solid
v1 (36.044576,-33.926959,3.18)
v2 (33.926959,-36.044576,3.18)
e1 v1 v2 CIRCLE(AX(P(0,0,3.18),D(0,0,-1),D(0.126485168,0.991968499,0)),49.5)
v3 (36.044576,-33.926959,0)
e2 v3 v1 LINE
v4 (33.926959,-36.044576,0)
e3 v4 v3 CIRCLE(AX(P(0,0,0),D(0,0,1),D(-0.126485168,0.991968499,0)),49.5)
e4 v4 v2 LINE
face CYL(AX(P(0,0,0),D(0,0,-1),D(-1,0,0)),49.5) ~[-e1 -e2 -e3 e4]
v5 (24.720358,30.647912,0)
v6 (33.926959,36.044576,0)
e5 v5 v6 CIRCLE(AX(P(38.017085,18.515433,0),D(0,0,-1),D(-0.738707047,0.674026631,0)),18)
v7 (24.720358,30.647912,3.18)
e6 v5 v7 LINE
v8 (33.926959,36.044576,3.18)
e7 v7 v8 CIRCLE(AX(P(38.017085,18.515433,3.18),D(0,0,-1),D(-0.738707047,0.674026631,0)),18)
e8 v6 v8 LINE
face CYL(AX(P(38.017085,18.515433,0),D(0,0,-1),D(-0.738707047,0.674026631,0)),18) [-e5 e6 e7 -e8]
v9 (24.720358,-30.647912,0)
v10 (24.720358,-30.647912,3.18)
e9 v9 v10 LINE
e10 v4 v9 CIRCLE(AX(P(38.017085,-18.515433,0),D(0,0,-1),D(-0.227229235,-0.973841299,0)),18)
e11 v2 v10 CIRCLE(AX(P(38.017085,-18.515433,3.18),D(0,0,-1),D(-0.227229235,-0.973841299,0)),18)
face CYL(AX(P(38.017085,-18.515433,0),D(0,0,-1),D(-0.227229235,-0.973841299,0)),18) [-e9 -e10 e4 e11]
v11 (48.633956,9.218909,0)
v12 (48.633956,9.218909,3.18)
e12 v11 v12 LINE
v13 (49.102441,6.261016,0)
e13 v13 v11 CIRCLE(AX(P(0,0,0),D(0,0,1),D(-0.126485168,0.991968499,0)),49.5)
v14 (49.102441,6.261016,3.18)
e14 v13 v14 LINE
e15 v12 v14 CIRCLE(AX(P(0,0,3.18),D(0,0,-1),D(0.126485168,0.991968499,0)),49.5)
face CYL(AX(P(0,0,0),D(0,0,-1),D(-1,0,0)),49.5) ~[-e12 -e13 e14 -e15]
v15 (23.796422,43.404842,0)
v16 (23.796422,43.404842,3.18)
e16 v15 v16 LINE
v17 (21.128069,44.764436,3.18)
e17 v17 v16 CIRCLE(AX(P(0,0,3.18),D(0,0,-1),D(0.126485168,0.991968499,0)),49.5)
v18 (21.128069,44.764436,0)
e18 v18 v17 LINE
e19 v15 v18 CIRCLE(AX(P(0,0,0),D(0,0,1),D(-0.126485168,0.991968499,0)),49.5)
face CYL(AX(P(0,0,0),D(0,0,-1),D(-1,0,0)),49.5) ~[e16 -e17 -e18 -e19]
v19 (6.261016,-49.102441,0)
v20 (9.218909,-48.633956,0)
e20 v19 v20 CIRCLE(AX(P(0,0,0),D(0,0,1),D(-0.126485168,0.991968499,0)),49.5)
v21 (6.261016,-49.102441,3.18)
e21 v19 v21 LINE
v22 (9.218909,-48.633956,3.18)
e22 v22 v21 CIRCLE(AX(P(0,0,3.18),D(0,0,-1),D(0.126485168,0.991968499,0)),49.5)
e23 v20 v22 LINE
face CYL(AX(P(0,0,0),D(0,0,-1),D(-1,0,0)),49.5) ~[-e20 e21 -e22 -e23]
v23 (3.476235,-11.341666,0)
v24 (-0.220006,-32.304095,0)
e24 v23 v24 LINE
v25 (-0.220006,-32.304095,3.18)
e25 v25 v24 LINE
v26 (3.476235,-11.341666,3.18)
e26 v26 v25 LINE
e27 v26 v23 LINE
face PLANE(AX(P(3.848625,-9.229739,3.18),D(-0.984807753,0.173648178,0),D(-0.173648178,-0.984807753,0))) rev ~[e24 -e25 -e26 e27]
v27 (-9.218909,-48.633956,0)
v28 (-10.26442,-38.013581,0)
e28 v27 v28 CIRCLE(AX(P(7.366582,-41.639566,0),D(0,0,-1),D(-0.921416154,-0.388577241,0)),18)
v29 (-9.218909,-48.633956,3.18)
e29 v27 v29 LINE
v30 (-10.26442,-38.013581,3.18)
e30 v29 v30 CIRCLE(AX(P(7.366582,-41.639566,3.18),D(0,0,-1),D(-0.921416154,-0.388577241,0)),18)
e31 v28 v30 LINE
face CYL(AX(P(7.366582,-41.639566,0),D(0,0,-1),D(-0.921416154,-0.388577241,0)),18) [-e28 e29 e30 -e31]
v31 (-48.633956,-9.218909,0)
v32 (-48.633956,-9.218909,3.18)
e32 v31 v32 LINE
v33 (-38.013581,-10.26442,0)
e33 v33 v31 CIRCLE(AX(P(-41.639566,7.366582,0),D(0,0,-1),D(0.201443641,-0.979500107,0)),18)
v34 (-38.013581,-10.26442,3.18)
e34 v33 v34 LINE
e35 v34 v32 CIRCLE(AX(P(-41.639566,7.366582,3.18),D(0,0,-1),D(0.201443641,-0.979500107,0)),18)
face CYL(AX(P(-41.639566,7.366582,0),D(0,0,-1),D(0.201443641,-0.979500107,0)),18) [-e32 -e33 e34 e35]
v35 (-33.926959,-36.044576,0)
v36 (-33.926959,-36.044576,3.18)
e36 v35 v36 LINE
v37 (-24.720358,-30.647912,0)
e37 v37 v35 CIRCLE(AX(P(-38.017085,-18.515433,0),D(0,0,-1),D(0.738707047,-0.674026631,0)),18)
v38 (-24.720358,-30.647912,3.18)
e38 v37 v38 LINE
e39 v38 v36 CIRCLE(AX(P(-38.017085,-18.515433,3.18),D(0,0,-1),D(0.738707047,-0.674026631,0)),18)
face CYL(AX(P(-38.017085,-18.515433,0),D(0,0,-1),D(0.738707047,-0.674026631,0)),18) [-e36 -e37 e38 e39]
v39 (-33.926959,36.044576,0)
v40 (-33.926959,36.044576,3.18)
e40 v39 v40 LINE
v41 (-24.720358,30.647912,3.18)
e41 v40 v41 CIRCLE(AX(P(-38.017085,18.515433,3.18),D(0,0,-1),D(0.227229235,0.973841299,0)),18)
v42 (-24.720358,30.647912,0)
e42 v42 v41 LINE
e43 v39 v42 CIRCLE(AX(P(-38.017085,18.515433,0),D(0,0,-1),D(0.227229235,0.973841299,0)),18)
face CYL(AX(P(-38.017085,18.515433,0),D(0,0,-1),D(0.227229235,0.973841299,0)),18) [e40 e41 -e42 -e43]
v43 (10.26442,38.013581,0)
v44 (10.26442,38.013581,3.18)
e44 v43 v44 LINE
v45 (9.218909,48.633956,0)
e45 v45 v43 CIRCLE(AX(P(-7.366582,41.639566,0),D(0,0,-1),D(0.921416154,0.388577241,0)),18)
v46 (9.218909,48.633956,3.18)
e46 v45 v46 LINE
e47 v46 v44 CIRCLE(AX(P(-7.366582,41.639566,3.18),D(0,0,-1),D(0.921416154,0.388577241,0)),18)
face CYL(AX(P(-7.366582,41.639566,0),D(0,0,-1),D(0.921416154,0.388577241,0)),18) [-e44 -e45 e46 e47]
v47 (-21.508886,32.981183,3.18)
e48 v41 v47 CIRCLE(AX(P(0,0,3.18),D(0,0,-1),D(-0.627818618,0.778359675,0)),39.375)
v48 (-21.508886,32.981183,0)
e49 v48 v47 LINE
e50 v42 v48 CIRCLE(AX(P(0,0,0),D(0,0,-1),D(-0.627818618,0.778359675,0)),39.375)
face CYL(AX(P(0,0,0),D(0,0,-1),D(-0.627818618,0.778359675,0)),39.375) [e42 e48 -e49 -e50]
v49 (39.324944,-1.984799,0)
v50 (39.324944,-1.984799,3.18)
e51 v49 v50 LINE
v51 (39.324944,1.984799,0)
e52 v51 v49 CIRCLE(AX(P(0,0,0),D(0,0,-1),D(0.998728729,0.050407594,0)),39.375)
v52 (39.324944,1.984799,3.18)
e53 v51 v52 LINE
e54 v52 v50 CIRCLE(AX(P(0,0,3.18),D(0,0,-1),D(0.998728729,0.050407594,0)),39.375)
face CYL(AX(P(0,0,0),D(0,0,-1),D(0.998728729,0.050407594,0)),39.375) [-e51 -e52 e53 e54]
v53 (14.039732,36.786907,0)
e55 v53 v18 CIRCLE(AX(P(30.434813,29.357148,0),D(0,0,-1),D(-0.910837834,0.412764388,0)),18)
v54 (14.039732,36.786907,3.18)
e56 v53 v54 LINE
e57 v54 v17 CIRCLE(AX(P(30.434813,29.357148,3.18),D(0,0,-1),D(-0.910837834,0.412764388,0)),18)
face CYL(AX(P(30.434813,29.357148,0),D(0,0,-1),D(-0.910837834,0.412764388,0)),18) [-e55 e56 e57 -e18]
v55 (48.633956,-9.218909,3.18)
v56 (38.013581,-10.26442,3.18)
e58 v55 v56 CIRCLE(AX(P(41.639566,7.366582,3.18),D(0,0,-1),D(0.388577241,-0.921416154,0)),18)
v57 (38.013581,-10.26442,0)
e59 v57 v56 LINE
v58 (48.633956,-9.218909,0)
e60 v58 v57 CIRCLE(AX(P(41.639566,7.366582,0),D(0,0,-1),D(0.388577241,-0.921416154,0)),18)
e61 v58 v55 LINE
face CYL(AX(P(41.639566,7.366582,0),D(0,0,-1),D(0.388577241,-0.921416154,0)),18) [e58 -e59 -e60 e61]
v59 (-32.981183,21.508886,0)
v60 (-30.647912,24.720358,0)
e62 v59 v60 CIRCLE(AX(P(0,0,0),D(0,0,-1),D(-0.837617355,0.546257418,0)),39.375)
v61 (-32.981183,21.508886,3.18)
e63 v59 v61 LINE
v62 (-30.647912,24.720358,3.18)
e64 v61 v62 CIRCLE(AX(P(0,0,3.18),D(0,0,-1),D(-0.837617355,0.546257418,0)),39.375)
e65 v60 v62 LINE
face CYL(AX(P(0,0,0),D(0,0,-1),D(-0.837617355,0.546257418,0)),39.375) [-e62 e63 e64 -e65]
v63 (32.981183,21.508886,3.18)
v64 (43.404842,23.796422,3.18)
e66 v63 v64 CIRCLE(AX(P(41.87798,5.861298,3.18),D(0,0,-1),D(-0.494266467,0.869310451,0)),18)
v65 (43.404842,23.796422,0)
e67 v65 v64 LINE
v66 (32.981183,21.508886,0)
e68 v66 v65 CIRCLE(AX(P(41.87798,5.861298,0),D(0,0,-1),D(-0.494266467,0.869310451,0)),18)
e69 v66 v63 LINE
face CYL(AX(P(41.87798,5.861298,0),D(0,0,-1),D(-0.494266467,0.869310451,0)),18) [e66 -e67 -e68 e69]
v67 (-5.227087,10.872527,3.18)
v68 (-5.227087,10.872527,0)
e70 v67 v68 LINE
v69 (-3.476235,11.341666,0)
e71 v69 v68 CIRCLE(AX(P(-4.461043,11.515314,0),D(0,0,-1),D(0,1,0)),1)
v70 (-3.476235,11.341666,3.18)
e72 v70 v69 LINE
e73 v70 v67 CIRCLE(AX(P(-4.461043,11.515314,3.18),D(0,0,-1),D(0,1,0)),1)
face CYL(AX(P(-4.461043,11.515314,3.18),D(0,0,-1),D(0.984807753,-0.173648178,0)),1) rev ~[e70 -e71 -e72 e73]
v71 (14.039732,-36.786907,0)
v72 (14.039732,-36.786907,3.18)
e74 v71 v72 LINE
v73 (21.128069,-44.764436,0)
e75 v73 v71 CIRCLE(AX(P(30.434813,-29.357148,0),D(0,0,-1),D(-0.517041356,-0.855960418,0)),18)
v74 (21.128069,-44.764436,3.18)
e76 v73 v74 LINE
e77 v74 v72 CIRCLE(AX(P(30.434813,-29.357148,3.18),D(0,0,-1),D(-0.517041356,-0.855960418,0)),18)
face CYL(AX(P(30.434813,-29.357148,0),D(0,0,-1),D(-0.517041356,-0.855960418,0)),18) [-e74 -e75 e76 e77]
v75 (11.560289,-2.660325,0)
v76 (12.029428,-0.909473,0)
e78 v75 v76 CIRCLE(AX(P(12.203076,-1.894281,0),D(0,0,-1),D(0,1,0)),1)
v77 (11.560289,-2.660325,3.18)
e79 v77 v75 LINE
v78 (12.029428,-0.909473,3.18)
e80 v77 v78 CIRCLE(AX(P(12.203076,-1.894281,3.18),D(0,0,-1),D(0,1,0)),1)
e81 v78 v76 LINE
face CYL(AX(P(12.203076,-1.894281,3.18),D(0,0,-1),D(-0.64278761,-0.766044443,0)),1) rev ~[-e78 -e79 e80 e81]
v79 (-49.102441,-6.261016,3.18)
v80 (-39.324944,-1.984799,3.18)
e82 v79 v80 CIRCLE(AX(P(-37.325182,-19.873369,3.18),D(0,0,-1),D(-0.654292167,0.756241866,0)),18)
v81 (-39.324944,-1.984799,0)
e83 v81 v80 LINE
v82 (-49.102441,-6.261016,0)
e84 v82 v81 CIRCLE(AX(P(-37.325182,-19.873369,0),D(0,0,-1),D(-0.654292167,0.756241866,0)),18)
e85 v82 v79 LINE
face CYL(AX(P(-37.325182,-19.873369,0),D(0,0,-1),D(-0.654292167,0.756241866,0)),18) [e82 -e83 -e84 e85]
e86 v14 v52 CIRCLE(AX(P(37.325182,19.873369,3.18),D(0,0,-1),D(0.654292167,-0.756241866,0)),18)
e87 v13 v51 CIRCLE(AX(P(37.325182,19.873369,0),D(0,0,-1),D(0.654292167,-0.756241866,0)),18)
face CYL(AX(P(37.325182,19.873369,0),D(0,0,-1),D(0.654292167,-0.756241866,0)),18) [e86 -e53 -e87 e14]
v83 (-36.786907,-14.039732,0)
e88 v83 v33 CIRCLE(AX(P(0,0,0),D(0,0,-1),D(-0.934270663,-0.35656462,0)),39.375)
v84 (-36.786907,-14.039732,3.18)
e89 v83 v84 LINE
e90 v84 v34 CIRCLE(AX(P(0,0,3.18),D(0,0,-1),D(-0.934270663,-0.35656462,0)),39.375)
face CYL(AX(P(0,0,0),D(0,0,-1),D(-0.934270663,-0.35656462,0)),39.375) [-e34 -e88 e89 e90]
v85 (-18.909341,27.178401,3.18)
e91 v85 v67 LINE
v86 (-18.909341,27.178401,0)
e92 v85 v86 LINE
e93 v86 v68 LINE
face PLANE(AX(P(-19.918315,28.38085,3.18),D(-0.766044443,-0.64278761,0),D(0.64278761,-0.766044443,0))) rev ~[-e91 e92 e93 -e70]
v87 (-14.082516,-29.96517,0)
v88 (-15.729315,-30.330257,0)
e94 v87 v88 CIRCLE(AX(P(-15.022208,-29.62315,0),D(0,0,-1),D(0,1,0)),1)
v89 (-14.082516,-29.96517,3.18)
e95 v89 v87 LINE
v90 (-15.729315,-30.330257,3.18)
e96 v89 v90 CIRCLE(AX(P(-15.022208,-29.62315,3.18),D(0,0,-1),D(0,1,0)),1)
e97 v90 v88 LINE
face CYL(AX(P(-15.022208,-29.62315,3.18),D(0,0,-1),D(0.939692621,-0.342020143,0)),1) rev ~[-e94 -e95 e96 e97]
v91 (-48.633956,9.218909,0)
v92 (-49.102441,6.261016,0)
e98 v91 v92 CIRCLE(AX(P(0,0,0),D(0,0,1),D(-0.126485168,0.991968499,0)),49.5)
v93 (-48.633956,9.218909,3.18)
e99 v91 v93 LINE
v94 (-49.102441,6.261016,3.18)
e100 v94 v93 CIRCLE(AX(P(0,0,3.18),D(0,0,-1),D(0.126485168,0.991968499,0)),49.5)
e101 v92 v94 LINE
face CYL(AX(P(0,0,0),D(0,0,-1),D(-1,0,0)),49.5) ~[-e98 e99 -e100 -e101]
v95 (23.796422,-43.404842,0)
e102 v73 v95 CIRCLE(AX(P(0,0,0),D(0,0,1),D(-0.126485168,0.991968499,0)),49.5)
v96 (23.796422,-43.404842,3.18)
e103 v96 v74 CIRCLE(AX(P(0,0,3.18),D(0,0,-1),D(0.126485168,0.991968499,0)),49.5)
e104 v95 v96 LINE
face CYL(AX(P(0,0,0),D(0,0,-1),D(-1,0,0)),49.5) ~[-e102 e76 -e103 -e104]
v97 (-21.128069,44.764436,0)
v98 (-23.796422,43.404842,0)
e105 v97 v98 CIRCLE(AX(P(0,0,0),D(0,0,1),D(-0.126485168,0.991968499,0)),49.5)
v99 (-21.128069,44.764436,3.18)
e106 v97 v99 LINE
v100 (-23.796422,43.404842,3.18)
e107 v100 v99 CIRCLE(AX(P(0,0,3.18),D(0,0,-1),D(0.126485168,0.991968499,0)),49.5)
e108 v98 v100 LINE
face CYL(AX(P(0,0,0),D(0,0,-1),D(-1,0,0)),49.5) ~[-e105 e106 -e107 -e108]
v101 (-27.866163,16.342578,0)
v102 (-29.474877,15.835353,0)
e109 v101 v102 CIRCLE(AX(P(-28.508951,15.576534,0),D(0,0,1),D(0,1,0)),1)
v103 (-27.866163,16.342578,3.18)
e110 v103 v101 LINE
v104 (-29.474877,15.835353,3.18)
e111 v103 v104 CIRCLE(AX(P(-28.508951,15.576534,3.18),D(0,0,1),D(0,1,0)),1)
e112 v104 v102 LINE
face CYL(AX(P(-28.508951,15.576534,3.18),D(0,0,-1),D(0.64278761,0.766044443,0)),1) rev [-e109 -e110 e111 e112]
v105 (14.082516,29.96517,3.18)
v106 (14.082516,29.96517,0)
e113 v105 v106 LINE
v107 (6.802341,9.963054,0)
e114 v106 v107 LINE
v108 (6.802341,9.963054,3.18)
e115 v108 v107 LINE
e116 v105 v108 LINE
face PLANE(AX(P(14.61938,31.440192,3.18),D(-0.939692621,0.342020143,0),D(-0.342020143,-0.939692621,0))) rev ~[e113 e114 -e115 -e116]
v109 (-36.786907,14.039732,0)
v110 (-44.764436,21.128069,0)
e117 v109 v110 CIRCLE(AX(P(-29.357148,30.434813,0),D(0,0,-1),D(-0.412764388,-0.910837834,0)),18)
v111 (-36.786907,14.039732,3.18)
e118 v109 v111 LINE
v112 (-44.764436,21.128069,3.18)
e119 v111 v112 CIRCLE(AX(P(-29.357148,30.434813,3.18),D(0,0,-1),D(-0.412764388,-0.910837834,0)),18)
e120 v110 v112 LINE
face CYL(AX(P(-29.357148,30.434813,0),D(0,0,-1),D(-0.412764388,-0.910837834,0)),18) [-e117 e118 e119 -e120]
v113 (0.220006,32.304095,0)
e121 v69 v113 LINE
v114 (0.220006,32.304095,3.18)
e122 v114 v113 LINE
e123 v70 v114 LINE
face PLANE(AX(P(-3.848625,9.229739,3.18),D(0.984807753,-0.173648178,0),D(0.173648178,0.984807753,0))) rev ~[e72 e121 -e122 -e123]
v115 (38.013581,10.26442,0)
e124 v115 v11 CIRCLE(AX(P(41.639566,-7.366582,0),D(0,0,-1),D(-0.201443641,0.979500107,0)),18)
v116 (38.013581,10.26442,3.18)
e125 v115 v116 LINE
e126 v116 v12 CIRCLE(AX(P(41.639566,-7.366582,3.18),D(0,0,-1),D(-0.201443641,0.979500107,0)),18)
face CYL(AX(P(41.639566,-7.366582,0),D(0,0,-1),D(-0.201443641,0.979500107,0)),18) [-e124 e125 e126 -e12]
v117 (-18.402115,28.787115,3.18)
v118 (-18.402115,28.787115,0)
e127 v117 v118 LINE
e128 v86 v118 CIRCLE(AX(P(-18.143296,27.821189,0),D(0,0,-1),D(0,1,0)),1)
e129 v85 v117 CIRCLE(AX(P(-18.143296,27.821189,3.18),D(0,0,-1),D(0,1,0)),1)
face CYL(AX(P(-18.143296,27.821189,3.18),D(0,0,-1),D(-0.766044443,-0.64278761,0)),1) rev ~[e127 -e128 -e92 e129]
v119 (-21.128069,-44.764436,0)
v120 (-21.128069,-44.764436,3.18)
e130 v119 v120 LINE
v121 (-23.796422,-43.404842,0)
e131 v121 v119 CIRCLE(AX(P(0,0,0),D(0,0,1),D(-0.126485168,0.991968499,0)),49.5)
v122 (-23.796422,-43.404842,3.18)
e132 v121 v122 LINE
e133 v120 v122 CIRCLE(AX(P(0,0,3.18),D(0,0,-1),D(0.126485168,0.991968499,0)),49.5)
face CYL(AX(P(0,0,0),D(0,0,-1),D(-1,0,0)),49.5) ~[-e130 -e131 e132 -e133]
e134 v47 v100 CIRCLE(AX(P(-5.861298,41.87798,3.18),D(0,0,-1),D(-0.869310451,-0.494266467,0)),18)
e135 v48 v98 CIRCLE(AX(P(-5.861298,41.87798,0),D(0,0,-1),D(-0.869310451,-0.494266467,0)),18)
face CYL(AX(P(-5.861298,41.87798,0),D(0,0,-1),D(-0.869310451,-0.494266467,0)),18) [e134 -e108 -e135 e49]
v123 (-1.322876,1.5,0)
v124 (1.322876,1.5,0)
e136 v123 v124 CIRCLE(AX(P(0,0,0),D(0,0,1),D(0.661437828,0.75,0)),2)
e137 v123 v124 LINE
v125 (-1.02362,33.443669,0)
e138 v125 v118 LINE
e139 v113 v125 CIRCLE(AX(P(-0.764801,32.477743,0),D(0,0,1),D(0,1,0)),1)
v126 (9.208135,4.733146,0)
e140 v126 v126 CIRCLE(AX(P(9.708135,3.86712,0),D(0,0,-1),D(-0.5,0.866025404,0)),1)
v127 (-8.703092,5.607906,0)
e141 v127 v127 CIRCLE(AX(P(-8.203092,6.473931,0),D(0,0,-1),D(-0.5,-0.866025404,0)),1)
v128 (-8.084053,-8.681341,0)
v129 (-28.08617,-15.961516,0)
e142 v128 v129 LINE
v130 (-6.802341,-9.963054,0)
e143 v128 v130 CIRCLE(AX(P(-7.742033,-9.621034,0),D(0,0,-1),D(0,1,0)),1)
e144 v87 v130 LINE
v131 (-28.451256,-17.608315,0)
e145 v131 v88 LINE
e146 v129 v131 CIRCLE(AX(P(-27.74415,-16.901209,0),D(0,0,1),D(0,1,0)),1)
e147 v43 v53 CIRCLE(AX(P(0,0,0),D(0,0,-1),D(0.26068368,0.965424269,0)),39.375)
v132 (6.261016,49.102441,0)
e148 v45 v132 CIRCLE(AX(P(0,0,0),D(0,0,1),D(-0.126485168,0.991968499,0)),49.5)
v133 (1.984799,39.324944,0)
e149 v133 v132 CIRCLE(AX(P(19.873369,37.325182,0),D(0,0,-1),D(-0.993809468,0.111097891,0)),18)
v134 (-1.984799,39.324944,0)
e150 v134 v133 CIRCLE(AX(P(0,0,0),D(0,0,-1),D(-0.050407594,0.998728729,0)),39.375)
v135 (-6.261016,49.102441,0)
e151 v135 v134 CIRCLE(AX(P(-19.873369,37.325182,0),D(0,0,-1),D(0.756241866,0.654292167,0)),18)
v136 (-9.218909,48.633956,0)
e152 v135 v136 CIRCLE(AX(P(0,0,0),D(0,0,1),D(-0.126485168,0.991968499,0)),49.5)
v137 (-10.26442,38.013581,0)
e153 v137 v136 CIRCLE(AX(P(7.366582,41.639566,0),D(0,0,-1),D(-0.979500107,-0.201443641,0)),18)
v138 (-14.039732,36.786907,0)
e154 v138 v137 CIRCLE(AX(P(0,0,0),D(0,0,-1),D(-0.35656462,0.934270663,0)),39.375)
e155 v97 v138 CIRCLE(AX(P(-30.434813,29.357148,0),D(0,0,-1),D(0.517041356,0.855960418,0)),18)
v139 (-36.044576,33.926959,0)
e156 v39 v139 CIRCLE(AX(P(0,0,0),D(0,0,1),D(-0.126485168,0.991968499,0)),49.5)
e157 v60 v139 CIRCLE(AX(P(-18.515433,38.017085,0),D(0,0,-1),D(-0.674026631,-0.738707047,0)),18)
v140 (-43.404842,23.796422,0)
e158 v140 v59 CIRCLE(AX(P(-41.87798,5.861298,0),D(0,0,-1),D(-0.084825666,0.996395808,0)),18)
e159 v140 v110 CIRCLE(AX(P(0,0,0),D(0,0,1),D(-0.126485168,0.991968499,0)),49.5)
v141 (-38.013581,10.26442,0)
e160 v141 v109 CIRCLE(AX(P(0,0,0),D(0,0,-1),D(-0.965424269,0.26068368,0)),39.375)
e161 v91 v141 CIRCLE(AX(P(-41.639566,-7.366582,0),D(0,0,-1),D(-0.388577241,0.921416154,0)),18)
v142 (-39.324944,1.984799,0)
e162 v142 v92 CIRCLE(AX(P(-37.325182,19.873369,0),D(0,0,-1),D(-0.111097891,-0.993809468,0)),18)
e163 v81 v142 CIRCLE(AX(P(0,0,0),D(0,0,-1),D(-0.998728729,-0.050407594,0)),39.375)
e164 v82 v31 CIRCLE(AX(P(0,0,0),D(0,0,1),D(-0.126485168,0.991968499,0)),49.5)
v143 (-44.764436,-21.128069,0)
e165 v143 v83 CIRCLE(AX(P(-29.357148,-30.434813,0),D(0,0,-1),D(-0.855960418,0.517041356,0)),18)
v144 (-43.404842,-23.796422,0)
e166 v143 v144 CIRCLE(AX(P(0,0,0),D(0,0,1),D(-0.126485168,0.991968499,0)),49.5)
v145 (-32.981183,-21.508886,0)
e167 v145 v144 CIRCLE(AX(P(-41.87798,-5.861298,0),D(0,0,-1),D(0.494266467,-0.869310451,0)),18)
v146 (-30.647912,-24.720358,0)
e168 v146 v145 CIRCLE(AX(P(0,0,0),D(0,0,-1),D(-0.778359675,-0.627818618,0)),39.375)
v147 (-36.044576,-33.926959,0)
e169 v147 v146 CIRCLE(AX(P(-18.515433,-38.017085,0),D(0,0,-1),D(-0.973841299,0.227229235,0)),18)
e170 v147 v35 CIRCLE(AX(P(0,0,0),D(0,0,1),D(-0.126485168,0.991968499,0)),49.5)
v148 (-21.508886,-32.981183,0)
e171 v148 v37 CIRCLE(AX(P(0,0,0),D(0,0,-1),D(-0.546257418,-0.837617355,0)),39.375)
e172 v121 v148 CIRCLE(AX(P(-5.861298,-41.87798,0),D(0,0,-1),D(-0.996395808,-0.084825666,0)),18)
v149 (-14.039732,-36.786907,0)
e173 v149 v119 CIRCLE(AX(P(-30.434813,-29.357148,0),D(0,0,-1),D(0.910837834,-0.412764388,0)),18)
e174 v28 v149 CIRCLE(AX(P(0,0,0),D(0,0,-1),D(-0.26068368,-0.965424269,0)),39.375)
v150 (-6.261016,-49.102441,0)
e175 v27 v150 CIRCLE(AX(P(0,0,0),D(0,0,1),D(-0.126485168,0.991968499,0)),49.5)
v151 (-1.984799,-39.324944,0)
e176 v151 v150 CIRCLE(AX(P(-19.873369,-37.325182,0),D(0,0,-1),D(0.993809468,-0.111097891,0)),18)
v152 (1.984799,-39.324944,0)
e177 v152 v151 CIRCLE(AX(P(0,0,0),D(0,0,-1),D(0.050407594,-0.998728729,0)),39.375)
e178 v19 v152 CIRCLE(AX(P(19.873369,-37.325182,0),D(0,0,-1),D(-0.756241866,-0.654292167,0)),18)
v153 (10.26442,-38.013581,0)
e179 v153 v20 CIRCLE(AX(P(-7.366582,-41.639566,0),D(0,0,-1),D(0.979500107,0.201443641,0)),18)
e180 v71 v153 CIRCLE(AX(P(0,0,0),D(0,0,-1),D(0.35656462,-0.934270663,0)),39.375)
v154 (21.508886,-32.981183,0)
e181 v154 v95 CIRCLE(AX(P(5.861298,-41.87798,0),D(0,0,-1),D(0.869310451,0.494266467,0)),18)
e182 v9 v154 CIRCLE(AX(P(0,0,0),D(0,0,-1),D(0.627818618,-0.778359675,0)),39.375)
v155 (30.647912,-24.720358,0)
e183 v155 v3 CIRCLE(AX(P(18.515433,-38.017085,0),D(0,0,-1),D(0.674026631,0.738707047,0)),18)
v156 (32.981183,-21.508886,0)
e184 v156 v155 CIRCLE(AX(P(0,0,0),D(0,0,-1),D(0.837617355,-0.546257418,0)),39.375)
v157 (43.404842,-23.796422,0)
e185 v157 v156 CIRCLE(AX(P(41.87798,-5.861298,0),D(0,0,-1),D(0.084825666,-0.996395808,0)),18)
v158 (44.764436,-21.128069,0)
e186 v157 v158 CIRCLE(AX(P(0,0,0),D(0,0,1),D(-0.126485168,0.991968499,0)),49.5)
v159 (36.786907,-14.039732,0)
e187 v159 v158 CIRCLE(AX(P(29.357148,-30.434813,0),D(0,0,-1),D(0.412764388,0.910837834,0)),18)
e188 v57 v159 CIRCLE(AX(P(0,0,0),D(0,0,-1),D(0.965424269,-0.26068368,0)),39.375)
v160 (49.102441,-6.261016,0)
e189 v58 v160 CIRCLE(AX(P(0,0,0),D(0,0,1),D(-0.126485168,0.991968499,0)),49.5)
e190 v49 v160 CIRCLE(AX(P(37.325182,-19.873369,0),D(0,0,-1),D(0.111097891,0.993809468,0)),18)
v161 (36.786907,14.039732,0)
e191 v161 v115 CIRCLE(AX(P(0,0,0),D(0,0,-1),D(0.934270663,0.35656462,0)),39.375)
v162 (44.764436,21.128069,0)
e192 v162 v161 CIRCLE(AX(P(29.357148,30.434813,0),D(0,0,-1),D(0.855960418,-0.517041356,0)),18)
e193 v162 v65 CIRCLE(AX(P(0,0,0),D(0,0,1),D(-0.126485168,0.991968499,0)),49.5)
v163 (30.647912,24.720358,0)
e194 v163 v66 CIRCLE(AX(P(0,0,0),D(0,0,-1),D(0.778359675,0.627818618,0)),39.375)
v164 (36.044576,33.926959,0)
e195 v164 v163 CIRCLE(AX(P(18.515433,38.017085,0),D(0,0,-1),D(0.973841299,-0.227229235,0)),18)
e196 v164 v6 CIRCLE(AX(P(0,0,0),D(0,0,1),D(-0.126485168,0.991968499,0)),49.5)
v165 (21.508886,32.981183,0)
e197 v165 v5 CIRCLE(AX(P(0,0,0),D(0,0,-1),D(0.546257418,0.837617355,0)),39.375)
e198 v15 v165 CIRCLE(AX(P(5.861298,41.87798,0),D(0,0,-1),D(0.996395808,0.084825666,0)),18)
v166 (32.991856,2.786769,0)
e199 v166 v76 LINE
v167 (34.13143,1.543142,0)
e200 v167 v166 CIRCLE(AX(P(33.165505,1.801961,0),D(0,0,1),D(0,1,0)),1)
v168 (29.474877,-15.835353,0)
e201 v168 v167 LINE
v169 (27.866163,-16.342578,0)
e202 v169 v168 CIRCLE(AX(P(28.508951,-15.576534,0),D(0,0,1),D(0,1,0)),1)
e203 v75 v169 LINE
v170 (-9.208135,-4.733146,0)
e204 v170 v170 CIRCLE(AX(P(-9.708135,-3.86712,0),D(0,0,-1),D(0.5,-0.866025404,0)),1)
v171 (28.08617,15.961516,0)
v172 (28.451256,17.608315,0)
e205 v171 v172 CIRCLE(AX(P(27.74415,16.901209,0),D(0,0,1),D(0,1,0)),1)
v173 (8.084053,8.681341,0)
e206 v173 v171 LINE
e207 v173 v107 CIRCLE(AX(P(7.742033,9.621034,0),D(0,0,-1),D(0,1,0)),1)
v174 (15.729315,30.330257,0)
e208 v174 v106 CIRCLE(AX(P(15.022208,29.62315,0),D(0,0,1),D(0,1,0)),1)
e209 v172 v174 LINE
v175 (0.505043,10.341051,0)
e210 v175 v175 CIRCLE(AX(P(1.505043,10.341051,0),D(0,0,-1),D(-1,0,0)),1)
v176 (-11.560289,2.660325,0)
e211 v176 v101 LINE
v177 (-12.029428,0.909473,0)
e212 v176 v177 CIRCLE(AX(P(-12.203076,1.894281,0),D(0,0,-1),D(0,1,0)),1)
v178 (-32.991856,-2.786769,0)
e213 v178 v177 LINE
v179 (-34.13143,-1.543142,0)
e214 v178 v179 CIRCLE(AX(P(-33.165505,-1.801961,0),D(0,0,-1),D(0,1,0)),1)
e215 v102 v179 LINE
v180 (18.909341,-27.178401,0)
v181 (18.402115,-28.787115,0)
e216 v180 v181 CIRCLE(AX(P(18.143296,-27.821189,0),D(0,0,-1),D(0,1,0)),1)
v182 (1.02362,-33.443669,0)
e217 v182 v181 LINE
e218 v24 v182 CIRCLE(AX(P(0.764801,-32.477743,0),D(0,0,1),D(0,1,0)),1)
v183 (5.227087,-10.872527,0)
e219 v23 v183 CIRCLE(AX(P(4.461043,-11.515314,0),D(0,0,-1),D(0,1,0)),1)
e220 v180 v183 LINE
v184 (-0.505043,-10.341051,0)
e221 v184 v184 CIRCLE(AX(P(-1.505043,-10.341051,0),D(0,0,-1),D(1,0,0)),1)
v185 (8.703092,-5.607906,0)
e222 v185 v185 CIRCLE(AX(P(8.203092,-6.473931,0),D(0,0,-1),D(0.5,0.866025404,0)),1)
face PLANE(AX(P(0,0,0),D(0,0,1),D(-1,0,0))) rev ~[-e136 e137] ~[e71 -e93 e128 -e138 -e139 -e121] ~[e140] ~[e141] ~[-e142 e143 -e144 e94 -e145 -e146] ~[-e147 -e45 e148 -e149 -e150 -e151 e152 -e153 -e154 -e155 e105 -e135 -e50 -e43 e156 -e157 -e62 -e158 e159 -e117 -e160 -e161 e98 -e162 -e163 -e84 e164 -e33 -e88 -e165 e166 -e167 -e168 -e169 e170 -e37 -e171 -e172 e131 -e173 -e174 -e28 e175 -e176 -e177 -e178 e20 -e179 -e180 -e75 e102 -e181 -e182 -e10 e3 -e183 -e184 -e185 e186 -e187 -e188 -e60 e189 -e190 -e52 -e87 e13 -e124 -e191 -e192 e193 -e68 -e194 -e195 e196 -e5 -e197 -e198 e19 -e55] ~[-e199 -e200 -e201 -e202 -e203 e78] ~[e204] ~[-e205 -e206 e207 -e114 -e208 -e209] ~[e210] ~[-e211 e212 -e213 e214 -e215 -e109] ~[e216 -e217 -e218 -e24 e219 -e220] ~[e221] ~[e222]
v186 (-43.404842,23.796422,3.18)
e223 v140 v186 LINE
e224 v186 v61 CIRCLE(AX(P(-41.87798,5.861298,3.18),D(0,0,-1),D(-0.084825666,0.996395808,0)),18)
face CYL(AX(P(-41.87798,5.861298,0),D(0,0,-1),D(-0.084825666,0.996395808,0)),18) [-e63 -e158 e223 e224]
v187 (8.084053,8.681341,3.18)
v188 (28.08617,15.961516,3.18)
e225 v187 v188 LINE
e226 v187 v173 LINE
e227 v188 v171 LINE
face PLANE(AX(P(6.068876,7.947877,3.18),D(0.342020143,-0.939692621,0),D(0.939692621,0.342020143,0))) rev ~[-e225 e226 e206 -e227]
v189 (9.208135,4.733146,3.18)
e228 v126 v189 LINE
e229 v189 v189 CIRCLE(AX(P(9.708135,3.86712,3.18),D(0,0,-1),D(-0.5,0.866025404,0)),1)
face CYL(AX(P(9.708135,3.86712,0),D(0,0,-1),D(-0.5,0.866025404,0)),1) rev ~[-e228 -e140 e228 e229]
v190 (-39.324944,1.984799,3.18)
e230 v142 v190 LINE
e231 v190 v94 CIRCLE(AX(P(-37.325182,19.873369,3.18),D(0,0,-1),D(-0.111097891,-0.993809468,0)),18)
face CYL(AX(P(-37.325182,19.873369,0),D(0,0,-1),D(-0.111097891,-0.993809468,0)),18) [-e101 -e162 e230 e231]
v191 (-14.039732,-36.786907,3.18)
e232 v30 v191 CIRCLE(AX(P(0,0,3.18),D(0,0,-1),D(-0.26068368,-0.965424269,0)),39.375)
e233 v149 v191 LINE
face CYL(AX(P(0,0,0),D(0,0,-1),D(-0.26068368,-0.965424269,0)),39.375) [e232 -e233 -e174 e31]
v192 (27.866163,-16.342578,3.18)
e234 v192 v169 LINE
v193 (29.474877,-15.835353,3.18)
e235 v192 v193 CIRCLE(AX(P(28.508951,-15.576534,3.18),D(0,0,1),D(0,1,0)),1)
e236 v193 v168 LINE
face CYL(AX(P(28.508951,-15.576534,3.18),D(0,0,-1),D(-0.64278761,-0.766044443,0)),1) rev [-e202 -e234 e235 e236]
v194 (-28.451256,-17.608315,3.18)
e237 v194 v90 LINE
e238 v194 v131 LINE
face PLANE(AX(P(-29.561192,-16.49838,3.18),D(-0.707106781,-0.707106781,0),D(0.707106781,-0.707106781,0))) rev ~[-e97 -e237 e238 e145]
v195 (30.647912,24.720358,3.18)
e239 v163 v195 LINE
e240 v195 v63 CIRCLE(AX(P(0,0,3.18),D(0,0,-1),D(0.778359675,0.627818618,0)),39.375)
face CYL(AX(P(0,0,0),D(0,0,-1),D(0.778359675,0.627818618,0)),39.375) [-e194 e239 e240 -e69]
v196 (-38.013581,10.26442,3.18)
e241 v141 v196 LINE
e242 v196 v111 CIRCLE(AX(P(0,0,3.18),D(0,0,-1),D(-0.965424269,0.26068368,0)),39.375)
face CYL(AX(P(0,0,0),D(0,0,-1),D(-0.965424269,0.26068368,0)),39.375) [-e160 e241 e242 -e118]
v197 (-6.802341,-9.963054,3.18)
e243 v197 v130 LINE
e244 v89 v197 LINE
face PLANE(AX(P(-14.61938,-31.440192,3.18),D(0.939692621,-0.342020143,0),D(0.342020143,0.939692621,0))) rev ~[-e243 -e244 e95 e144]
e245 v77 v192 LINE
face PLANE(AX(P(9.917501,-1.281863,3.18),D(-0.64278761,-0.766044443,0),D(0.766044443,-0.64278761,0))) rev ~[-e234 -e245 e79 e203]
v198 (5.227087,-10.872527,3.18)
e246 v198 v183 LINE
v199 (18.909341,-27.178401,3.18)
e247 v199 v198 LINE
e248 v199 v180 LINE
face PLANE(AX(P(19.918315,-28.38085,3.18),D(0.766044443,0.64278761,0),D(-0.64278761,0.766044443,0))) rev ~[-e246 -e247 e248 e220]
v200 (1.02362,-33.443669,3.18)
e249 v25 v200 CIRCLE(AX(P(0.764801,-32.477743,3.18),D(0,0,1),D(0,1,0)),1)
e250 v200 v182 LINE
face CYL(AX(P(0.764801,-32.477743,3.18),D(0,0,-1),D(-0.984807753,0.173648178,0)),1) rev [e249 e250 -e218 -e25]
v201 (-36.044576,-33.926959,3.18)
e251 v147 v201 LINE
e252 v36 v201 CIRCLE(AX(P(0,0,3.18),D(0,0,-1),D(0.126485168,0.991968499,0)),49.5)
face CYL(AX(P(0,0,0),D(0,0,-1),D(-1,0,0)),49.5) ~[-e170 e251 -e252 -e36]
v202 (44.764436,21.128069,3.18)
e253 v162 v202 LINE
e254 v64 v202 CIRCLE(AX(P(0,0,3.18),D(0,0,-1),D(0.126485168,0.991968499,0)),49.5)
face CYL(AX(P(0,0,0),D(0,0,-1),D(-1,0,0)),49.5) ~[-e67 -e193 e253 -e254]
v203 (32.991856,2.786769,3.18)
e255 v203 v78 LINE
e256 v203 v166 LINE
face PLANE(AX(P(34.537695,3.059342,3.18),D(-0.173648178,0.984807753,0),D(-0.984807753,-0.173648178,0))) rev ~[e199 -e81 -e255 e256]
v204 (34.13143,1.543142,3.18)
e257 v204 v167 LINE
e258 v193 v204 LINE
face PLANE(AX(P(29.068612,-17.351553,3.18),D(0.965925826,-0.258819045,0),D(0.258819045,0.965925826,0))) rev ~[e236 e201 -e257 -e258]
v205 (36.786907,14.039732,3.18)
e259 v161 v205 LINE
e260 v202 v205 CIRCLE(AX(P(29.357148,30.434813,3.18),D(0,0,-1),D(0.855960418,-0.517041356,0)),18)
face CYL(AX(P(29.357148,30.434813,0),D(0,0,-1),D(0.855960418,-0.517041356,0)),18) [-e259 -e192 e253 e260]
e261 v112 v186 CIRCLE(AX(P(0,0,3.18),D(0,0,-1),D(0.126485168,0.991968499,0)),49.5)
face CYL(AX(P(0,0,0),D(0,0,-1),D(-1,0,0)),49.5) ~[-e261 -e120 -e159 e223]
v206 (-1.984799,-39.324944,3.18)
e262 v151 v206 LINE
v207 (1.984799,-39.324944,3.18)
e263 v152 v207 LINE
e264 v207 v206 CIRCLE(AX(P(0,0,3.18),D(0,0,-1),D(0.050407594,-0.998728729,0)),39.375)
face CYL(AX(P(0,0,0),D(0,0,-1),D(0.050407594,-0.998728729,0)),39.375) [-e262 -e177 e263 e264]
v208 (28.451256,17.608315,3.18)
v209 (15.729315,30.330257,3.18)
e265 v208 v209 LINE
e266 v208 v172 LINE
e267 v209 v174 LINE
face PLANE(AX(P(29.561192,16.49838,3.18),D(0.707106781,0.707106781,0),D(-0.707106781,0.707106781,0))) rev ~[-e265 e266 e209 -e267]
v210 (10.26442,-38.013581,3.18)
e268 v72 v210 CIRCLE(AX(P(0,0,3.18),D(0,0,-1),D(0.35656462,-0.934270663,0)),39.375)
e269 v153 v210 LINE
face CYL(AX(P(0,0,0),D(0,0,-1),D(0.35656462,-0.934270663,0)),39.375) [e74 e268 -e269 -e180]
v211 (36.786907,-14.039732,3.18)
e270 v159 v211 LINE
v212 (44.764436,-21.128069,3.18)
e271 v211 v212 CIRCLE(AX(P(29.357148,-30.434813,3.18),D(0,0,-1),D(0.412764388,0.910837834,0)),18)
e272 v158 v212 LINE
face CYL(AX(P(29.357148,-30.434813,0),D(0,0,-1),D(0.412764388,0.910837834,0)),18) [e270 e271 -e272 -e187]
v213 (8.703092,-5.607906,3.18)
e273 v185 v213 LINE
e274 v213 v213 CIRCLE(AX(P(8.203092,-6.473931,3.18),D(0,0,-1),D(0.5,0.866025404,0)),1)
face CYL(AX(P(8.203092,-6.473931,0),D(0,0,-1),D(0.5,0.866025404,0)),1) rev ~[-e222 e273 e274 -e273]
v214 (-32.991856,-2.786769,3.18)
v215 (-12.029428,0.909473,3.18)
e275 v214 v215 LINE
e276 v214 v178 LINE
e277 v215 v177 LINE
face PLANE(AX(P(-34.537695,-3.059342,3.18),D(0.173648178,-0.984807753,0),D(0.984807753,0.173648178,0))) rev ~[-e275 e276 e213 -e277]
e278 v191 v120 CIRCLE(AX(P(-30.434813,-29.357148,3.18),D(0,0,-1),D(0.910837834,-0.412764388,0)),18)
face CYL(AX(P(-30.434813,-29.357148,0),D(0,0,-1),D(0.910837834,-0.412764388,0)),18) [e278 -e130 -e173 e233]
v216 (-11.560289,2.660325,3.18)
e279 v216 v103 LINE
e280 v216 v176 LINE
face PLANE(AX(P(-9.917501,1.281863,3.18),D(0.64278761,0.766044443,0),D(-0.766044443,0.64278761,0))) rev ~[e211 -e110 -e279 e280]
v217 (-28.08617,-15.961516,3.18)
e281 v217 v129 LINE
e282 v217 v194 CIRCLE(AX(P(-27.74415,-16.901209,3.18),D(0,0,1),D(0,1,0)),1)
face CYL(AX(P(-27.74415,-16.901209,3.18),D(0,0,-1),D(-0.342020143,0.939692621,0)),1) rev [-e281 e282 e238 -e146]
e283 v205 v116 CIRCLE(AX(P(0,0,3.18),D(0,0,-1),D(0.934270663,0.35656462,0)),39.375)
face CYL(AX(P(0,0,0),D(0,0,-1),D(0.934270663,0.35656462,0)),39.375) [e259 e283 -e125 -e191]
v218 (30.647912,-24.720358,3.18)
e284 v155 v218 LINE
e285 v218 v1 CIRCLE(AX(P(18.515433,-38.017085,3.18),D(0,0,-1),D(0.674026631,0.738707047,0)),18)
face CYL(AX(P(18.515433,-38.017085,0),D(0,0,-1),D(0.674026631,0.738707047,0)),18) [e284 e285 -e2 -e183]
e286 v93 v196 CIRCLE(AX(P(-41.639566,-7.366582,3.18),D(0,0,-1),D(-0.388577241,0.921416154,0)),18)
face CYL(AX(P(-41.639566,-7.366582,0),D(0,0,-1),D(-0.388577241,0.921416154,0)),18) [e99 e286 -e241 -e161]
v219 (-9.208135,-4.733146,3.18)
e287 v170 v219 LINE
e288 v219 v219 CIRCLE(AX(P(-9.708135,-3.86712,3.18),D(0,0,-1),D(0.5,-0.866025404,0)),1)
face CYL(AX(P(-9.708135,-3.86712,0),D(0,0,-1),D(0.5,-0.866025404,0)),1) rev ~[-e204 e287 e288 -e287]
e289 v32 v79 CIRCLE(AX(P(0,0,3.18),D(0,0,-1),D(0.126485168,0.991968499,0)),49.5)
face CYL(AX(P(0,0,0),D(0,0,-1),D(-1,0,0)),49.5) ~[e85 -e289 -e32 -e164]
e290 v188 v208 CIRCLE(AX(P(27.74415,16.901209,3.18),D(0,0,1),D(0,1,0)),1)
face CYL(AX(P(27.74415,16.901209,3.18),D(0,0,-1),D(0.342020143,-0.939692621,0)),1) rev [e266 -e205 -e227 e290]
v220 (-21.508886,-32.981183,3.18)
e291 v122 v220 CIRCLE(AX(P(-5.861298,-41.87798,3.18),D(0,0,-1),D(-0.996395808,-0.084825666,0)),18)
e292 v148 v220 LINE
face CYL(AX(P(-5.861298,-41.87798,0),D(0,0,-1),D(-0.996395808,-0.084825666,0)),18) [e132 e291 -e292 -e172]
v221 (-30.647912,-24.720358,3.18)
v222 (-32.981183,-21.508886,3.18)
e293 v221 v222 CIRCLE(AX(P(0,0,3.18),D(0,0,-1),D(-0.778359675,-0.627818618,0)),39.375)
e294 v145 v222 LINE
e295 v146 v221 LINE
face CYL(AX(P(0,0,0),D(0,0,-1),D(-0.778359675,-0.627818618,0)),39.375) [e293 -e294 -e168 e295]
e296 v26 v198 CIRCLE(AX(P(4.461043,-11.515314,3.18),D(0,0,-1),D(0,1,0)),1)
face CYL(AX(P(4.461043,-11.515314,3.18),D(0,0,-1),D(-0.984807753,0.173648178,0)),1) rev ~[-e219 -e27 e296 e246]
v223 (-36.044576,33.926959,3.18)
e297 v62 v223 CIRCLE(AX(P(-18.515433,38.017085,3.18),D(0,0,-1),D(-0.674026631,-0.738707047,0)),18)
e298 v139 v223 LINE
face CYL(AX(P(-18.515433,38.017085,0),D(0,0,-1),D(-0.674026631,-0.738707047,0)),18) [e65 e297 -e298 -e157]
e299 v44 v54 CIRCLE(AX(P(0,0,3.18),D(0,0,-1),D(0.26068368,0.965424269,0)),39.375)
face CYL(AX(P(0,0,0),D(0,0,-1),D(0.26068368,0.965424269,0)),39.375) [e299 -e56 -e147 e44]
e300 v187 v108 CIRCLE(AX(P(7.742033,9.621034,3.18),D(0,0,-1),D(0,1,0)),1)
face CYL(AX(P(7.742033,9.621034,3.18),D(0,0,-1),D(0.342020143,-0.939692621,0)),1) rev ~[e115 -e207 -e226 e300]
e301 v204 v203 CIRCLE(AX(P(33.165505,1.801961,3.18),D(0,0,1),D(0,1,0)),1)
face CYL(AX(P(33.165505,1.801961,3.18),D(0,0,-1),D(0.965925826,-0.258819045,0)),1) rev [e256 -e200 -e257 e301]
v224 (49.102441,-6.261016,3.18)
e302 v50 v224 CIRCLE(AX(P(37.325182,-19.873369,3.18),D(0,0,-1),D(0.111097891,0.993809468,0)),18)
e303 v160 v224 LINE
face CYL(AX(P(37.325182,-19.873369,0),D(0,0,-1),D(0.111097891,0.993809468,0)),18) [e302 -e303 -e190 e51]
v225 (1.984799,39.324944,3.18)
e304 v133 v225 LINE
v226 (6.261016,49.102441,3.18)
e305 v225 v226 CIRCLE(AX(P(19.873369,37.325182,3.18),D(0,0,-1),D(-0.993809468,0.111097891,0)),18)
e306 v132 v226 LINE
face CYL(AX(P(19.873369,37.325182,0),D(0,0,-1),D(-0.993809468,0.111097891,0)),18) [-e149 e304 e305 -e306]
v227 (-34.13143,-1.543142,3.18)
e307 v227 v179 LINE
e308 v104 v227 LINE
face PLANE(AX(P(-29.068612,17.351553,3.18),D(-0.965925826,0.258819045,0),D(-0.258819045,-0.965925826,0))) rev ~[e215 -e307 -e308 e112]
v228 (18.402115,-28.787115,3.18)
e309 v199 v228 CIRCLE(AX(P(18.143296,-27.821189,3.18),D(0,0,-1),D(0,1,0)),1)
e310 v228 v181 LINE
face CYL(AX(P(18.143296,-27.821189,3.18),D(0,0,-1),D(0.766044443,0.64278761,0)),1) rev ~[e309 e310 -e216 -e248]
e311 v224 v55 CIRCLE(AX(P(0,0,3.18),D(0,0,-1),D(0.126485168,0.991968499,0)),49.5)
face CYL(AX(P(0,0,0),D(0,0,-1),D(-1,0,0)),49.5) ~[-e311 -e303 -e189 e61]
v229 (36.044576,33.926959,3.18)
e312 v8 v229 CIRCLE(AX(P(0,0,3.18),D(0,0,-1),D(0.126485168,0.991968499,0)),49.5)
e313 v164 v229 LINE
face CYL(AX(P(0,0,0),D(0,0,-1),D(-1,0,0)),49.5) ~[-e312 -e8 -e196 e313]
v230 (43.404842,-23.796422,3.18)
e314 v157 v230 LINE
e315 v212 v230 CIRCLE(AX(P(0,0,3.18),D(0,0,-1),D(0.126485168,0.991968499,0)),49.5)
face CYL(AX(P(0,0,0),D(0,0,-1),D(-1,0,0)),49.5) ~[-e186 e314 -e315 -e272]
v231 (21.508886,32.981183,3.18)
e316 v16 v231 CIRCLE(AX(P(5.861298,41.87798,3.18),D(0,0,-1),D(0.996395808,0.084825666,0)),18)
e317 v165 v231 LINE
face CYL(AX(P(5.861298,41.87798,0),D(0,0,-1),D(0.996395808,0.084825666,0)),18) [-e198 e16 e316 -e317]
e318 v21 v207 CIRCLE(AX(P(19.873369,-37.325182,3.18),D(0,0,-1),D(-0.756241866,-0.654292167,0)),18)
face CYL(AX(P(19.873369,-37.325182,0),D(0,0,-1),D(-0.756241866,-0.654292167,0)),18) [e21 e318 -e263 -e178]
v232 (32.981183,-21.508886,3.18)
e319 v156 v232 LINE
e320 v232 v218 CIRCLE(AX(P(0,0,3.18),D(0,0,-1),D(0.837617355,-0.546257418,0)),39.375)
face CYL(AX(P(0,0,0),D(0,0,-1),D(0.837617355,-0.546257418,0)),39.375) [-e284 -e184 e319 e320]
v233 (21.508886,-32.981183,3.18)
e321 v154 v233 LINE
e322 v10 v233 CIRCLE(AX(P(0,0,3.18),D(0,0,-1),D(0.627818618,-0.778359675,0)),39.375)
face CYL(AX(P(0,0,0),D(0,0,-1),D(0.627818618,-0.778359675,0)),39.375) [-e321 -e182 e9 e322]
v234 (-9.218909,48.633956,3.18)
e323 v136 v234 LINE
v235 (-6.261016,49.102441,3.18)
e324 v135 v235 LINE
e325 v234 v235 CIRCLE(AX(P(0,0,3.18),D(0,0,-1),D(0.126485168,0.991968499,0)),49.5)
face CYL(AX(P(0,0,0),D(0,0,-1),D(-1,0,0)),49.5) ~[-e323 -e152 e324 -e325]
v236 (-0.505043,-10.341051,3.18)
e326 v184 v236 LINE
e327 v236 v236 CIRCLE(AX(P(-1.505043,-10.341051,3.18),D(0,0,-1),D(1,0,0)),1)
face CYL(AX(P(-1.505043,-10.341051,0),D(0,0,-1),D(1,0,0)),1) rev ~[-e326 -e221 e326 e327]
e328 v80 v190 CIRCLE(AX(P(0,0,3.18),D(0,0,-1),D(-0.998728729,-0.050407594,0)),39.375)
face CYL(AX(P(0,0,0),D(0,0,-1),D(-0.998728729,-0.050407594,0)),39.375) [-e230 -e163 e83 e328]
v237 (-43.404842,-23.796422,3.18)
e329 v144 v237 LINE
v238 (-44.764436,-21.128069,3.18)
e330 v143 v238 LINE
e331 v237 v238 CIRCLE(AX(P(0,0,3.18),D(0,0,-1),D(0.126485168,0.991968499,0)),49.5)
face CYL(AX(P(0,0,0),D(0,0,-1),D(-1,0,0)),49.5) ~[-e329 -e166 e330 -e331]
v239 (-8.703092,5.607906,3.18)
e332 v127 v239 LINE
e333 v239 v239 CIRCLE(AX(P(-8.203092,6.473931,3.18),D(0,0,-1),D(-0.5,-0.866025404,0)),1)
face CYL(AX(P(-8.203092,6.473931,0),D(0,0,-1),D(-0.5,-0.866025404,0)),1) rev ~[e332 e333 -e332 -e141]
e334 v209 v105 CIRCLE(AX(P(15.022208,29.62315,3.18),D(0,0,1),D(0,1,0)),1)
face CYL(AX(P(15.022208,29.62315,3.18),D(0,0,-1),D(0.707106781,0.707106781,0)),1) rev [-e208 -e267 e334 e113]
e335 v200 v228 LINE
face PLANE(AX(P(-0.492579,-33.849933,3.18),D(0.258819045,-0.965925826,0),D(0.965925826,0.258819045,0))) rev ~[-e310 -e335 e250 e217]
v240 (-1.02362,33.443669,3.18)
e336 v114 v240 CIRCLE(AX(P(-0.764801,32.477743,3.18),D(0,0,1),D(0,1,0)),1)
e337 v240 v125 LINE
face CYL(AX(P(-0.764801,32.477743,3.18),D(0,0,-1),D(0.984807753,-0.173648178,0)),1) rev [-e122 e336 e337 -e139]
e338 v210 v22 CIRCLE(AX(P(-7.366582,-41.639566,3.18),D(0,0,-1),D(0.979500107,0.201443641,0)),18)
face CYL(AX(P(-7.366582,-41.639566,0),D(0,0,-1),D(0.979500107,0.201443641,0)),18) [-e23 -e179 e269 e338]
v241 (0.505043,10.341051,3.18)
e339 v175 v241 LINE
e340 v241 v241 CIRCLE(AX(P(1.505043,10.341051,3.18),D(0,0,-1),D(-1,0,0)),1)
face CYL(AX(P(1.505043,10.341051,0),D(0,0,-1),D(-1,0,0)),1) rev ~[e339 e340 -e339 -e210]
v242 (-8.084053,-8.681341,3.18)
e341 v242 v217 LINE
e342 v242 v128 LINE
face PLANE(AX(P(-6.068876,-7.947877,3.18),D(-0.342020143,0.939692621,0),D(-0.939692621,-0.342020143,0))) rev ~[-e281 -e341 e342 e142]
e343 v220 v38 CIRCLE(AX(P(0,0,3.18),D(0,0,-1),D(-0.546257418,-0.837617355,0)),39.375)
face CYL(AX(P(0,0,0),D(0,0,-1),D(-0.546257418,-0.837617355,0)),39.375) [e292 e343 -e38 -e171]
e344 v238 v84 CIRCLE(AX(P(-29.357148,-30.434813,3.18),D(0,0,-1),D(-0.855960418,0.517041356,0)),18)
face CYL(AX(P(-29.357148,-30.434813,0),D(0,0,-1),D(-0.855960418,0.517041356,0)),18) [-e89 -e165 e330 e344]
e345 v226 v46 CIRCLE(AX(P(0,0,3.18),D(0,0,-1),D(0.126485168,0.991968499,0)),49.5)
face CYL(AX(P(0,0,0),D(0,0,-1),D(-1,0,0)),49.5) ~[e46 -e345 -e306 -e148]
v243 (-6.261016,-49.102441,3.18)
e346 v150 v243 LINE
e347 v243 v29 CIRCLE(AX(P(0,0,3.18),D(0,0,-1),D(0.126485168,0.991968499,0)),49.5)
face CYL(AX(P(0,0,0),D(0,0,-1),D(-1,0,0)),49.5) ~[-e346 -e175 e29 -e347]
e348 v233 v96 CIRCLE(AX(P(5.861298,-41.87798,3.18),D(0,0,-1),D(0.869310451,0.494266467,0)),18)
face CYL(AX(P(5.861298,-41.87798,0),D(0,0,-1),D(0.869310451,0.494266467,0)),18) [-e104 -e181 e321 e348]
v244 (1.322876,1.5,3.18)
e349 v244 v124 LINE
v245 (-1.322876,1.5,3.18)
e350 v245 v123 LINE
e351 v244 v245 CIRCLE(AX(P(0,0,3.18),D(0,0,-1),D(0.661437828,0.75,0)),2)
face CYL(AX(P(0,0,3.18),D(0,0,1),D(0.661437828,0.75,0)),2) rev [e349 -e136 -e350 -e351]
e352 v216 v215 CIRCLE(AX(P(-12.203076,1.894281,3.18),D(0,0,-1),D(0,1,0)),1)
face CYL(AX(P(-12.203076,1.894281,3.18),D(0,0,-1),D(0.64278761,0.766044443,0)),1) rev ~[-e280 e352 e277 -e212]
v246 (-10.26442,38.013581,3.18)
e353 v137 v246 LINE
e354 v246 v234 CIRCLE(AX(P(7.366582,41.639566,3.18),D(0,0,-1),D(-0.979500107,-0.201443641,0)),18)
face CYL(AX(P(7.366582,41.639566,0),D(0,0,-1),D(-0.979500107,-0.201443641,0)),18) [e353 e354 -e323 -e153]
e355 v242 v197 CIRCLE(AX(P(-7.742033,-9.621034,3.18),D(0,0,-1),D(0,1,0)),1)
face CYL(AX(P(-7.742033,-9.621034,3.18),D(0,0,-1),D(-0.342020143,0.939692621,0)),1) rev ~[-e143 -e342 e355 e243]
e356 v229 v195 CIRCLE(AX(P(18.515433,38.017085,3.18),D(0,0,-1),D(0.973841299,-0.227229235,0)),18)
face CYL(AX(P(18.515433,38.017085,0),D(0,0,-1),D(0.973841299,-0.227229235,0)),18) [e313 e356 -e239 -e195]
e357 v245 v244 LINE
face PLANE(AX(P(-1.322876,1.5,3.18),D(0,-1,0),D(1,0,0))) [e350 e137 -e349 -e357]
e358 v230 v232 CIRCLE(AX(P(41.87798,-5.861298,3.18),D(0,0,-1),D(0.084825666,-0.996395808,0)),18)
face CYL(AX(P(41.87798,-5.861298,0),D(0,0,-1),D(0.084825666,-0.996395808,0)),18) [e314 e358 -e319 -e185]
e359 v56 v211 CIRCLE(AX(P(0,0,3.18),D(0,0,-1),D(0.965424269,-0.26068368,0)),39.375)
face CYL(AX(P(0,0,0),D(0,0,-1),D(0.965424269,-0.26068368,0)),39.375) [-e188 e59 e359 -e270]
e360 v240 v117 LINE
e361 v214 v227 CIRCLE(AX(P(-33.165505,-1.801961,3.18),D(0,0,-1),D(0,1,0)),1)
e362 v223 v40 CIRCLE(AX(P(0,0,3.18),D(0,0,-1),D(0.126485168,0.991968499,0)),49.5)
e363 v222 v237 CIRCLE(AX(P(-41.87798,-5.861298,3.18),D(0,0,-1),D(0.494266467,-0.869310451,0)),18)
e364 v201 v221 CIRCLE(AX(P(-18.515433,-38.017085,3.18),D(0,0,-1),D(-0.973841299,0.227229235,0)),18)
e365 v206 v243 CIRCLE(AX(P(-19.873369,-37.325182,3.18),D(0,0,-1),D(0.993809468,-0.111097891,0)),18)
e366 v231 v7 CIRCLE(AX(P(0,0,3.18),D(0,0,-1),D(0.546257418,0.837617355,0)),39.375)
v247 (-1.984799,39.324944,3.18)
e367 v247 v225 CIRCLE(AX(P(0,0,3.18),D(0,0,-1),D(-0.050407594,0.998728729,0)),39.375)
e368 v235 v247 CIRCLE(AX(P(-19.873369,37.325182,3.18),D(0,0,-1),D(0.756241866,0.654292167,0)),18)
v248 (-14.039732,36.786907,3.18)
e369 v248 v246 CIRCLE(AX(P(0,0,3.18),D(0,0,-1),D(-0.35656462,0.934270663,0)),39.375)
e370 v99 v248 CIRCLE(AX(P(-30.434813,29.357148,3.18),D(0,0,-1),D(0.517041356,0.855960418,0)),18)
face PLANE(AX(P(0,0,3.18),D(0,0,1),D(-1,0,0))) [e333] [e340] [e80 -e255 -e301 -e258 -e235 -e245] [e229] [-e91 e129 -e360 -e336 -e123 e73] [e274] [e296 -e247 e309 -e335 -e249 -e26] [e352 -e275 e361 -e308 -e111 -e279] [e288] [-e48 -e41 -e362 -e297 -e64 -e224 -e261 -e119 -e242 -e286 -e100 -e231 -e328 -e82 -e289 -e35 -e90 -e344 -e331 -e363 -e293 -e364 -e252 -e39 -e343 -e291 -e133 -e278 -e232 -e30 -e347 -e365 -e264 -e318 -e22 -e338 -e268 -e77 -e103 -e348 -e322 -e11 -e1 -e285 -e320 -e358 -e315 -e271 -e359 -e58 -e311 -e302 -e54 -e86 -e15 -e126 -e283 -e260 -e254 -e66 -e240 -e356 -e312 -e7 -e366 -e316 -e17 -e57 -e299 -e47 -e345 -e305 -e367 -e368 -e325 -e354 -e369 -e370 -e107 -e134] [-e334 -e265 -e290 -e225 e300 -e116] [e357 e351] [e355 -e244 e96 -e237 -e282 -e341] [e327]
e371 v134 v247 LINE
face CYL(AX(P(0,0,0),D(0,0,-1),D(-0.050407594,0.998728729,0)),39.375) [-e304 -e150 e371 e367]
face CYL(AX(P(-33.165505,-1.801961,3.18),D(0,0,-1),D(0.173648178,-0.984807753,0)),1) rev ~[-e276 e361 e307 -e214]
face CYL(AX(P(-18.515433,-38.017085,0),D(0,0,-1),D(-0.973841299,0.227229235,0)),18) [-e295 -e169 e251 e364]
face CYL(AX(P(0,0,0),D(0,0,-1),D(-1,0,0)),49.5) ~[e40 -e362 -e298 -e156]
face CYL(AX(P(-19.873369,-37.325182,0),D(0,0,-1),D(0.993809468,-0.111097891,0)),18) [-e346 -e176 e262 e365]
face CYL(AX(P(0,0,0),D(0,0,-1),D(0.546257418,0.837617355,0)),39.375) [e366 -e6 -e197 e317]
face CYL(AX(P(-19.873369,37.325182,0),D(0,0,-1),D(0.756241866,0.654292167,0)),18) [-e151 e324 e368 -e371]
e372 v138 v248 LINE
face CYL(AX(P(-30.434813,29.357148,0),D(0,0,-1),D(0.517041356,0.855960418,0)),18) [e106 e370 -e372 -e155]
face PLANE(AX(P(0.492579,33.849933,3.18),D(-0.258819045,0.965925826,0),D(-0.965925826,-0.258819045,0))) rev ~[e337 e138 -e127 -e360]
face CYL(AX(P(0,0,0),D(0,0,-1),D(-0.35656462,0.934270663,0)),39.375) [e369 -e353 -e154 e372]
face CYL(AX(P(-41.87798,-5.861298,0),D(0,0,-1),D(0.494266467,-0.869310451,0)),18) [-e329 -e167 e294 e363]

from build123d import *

# Parameters (mm, degrees)
SKETCH1_R                = 49.5
BOSS_EXTRUDE1_DEPTH      = 3.18
CUT_EXTRUDE1_START       = -3.18
CUT_EXTRUDE1_DEPTH       = 3.18
CIRPATTERN1_COUNT        = 20
CUT_EXTRUDE2_DEPTH       = 70.51411196
FILLET2_R                = 1
CIRPATTERN2_COUNT        = 6
FILLET2_OF_CIRPATTERN2_R = 1
CUT_EXTRUDE3_DEPTH       = 70.51411196
SKETCH7_R                = 1
CUT_EXTRUDE4_DEPTH       = 70.51411196
CIRPATTERN3_COUNT        = 6


with BuildPart() as part:
    # Sketch1 → Boss-Extrude1 (new body)
    with BuildSketch(Plane.XY):
        with Locations(Location((0, 0, 0), (0, 0, 180))):
            Circle(SKETCH1_R)
    extrude(amount=BOSS_EXTRUDE1_DEPTH)

    # Sketch2 → Cut-Extrude1 (cut)
    with BuildSketch(Plane.XY.offset(3.18).offset(CUT_EXTRUDE1_START)):
        with BuildLine():
            ThreePointArc((-6.261015826, 49.102440681), (-3.38164679, 44.537884692), (-1.984798992, 39.324943712))
            ThreePointArc((-1.984798992, 39.324943712), (0, 39.375), (1.984798992, 39.324943712))
            ThreePointArc((1.984798992, 39.324943712), (3.38164679, 44.537884692), (6.261015826, 49.102440681))
            ThreePointArc((6.261015826, 49.102440681), (0, 49.5), (-6.261015826, 49.102440681))
        make_face()
    cut_extrude1 = extrude(amount=CUT_EXTRUDE1_DEPTH, mode=Mode.SUBTRACT)

    # CirPattern1: Cut-Extrude1 ×20 about axis
    cirpattern1_axis = Axis((0, 0, 0), (0, 0, 1))
    for i in range(1, CIRPATTERN1_COUNT):
        add(cut_extrude1.rotate(cirpattern1_axis, i * 360 / CIRPATTERN1_COUNT), mode=Mode.SUBTRACT)

    # Sketch3 → Cut-Extrude2 (cut, through all)
    with BuildSketch(Plane.XY.offset(3.18)):
        Polygon((6.06887616, 7.947876581), (29.56119168, 16.498380165), (14.619379743, 31.440192101), align=None)
    cut_extrude2 = extrude(amount=-CUT_EXTRUDE2_DEPTH, mode=Mode.SUBTRACT)

    # Fillet2
    fillet2_edges = [part.edges().sort_by_distance(p)[0] for p in [
        (29.56119168, 16.498380165, 1.59),
        (6.06887616, 7.947876581, 1.59),
        (14.619379743, 31.440192101, 1.59),
    ]]
    fillet(fillet2_edges, radius=FILLET2_R)

    # CirPattern2: Cut-Extrude2 ×6 about axis
    cirpattern2_axis = Axis((0, 0, 0), (0, 0, 1))
    for i in range(1, CIRPATTERN2_COUNT):
        add(cut_extrude2.rotate(cirpattern2_axis, i * 360 / CIRPATTERN2_COUNT), mode=Mode.SUBTRACT)

    # Fillet2 of CirPattern2
    fillet2_of_cirpattern2_edges = [part.edges().sort_by_distance(p)[0] for p in [
        (0.492579496, 33.849933043, 1.59),
        (-3.848624946, 9.229739218, 1.59),
        (-19.918315188, 28.380850296, 1.59),
        (-29.068612184, 17.351552878, 1.59),
        (-9.917501106, 1.281862636, 1.59),
        (-34.537694931, -3.059341805, 1.59),
        (-29.56119168, -16.498380165, 1.59),
        (-6.06887616, -7.947876581, 1.59),
        (-14.619379743, -31.440192101, 1.59),
        (-0.492579496, -33.849933043, 1.59),
        (3.848624946, -9.229739218, 1.59),
        (19.918315188, -28.380850296, 1.59),
        (29.068612184, -17.351552878, 1.59),
        (9.917501106, -1.281862636, 1.59),
        (34.537694931, 3.059341805, 1.59),
    ]]
    fillet(fillet2_of_cirpattern2_edges, radius=FILLET2_OF_CIRPATTERN2_R)

    # Sketch5 → Cut-Extrude3 (cut, through all)
    with BuildSketch(Plane.XY.offset(3.18)):
        with BuildLine():
            Line((-1.322875656, 1.5), (1.322875656, 1.5))
            ThreePointArc((1.322875656, 1.5), (0, -2), (-1.322875656, 1.5))
        make_face()
    extrude(amount=-CUT_EXTRUDE3_DEPTH, mode=Mode.SUBTRACT)

    # Sketch7 → Cut-Extrude4 (cut, through all)
    with BuildSketch(Plane(origin=(0, 0, 0), x_dir=(-1, 0, 0), z_dir=(0, 0, -1))):
        with Locations((-1.505042839, 10.341051496)):
            Circle(SKETCH7_R)
    cut_extrude4 = extrude(amount=-CUT_EXTRUDE4_DEPTH, mode=Mode.SUBTRACT)

    # CirPattern3: Cut-Extrude4 ×6 about axis
    cirpattern3_axis = Axis((0, 0, 0), (0, 0, 1))
    for i in range(1, CIRPATTERN3_COUNT):
        add(cut_extrude4.rotate(cirpattern3_axis, i * 360 / CIRPATTERN3_COUNT), mode=Mode.SUBTRACT)


solid = part.part
